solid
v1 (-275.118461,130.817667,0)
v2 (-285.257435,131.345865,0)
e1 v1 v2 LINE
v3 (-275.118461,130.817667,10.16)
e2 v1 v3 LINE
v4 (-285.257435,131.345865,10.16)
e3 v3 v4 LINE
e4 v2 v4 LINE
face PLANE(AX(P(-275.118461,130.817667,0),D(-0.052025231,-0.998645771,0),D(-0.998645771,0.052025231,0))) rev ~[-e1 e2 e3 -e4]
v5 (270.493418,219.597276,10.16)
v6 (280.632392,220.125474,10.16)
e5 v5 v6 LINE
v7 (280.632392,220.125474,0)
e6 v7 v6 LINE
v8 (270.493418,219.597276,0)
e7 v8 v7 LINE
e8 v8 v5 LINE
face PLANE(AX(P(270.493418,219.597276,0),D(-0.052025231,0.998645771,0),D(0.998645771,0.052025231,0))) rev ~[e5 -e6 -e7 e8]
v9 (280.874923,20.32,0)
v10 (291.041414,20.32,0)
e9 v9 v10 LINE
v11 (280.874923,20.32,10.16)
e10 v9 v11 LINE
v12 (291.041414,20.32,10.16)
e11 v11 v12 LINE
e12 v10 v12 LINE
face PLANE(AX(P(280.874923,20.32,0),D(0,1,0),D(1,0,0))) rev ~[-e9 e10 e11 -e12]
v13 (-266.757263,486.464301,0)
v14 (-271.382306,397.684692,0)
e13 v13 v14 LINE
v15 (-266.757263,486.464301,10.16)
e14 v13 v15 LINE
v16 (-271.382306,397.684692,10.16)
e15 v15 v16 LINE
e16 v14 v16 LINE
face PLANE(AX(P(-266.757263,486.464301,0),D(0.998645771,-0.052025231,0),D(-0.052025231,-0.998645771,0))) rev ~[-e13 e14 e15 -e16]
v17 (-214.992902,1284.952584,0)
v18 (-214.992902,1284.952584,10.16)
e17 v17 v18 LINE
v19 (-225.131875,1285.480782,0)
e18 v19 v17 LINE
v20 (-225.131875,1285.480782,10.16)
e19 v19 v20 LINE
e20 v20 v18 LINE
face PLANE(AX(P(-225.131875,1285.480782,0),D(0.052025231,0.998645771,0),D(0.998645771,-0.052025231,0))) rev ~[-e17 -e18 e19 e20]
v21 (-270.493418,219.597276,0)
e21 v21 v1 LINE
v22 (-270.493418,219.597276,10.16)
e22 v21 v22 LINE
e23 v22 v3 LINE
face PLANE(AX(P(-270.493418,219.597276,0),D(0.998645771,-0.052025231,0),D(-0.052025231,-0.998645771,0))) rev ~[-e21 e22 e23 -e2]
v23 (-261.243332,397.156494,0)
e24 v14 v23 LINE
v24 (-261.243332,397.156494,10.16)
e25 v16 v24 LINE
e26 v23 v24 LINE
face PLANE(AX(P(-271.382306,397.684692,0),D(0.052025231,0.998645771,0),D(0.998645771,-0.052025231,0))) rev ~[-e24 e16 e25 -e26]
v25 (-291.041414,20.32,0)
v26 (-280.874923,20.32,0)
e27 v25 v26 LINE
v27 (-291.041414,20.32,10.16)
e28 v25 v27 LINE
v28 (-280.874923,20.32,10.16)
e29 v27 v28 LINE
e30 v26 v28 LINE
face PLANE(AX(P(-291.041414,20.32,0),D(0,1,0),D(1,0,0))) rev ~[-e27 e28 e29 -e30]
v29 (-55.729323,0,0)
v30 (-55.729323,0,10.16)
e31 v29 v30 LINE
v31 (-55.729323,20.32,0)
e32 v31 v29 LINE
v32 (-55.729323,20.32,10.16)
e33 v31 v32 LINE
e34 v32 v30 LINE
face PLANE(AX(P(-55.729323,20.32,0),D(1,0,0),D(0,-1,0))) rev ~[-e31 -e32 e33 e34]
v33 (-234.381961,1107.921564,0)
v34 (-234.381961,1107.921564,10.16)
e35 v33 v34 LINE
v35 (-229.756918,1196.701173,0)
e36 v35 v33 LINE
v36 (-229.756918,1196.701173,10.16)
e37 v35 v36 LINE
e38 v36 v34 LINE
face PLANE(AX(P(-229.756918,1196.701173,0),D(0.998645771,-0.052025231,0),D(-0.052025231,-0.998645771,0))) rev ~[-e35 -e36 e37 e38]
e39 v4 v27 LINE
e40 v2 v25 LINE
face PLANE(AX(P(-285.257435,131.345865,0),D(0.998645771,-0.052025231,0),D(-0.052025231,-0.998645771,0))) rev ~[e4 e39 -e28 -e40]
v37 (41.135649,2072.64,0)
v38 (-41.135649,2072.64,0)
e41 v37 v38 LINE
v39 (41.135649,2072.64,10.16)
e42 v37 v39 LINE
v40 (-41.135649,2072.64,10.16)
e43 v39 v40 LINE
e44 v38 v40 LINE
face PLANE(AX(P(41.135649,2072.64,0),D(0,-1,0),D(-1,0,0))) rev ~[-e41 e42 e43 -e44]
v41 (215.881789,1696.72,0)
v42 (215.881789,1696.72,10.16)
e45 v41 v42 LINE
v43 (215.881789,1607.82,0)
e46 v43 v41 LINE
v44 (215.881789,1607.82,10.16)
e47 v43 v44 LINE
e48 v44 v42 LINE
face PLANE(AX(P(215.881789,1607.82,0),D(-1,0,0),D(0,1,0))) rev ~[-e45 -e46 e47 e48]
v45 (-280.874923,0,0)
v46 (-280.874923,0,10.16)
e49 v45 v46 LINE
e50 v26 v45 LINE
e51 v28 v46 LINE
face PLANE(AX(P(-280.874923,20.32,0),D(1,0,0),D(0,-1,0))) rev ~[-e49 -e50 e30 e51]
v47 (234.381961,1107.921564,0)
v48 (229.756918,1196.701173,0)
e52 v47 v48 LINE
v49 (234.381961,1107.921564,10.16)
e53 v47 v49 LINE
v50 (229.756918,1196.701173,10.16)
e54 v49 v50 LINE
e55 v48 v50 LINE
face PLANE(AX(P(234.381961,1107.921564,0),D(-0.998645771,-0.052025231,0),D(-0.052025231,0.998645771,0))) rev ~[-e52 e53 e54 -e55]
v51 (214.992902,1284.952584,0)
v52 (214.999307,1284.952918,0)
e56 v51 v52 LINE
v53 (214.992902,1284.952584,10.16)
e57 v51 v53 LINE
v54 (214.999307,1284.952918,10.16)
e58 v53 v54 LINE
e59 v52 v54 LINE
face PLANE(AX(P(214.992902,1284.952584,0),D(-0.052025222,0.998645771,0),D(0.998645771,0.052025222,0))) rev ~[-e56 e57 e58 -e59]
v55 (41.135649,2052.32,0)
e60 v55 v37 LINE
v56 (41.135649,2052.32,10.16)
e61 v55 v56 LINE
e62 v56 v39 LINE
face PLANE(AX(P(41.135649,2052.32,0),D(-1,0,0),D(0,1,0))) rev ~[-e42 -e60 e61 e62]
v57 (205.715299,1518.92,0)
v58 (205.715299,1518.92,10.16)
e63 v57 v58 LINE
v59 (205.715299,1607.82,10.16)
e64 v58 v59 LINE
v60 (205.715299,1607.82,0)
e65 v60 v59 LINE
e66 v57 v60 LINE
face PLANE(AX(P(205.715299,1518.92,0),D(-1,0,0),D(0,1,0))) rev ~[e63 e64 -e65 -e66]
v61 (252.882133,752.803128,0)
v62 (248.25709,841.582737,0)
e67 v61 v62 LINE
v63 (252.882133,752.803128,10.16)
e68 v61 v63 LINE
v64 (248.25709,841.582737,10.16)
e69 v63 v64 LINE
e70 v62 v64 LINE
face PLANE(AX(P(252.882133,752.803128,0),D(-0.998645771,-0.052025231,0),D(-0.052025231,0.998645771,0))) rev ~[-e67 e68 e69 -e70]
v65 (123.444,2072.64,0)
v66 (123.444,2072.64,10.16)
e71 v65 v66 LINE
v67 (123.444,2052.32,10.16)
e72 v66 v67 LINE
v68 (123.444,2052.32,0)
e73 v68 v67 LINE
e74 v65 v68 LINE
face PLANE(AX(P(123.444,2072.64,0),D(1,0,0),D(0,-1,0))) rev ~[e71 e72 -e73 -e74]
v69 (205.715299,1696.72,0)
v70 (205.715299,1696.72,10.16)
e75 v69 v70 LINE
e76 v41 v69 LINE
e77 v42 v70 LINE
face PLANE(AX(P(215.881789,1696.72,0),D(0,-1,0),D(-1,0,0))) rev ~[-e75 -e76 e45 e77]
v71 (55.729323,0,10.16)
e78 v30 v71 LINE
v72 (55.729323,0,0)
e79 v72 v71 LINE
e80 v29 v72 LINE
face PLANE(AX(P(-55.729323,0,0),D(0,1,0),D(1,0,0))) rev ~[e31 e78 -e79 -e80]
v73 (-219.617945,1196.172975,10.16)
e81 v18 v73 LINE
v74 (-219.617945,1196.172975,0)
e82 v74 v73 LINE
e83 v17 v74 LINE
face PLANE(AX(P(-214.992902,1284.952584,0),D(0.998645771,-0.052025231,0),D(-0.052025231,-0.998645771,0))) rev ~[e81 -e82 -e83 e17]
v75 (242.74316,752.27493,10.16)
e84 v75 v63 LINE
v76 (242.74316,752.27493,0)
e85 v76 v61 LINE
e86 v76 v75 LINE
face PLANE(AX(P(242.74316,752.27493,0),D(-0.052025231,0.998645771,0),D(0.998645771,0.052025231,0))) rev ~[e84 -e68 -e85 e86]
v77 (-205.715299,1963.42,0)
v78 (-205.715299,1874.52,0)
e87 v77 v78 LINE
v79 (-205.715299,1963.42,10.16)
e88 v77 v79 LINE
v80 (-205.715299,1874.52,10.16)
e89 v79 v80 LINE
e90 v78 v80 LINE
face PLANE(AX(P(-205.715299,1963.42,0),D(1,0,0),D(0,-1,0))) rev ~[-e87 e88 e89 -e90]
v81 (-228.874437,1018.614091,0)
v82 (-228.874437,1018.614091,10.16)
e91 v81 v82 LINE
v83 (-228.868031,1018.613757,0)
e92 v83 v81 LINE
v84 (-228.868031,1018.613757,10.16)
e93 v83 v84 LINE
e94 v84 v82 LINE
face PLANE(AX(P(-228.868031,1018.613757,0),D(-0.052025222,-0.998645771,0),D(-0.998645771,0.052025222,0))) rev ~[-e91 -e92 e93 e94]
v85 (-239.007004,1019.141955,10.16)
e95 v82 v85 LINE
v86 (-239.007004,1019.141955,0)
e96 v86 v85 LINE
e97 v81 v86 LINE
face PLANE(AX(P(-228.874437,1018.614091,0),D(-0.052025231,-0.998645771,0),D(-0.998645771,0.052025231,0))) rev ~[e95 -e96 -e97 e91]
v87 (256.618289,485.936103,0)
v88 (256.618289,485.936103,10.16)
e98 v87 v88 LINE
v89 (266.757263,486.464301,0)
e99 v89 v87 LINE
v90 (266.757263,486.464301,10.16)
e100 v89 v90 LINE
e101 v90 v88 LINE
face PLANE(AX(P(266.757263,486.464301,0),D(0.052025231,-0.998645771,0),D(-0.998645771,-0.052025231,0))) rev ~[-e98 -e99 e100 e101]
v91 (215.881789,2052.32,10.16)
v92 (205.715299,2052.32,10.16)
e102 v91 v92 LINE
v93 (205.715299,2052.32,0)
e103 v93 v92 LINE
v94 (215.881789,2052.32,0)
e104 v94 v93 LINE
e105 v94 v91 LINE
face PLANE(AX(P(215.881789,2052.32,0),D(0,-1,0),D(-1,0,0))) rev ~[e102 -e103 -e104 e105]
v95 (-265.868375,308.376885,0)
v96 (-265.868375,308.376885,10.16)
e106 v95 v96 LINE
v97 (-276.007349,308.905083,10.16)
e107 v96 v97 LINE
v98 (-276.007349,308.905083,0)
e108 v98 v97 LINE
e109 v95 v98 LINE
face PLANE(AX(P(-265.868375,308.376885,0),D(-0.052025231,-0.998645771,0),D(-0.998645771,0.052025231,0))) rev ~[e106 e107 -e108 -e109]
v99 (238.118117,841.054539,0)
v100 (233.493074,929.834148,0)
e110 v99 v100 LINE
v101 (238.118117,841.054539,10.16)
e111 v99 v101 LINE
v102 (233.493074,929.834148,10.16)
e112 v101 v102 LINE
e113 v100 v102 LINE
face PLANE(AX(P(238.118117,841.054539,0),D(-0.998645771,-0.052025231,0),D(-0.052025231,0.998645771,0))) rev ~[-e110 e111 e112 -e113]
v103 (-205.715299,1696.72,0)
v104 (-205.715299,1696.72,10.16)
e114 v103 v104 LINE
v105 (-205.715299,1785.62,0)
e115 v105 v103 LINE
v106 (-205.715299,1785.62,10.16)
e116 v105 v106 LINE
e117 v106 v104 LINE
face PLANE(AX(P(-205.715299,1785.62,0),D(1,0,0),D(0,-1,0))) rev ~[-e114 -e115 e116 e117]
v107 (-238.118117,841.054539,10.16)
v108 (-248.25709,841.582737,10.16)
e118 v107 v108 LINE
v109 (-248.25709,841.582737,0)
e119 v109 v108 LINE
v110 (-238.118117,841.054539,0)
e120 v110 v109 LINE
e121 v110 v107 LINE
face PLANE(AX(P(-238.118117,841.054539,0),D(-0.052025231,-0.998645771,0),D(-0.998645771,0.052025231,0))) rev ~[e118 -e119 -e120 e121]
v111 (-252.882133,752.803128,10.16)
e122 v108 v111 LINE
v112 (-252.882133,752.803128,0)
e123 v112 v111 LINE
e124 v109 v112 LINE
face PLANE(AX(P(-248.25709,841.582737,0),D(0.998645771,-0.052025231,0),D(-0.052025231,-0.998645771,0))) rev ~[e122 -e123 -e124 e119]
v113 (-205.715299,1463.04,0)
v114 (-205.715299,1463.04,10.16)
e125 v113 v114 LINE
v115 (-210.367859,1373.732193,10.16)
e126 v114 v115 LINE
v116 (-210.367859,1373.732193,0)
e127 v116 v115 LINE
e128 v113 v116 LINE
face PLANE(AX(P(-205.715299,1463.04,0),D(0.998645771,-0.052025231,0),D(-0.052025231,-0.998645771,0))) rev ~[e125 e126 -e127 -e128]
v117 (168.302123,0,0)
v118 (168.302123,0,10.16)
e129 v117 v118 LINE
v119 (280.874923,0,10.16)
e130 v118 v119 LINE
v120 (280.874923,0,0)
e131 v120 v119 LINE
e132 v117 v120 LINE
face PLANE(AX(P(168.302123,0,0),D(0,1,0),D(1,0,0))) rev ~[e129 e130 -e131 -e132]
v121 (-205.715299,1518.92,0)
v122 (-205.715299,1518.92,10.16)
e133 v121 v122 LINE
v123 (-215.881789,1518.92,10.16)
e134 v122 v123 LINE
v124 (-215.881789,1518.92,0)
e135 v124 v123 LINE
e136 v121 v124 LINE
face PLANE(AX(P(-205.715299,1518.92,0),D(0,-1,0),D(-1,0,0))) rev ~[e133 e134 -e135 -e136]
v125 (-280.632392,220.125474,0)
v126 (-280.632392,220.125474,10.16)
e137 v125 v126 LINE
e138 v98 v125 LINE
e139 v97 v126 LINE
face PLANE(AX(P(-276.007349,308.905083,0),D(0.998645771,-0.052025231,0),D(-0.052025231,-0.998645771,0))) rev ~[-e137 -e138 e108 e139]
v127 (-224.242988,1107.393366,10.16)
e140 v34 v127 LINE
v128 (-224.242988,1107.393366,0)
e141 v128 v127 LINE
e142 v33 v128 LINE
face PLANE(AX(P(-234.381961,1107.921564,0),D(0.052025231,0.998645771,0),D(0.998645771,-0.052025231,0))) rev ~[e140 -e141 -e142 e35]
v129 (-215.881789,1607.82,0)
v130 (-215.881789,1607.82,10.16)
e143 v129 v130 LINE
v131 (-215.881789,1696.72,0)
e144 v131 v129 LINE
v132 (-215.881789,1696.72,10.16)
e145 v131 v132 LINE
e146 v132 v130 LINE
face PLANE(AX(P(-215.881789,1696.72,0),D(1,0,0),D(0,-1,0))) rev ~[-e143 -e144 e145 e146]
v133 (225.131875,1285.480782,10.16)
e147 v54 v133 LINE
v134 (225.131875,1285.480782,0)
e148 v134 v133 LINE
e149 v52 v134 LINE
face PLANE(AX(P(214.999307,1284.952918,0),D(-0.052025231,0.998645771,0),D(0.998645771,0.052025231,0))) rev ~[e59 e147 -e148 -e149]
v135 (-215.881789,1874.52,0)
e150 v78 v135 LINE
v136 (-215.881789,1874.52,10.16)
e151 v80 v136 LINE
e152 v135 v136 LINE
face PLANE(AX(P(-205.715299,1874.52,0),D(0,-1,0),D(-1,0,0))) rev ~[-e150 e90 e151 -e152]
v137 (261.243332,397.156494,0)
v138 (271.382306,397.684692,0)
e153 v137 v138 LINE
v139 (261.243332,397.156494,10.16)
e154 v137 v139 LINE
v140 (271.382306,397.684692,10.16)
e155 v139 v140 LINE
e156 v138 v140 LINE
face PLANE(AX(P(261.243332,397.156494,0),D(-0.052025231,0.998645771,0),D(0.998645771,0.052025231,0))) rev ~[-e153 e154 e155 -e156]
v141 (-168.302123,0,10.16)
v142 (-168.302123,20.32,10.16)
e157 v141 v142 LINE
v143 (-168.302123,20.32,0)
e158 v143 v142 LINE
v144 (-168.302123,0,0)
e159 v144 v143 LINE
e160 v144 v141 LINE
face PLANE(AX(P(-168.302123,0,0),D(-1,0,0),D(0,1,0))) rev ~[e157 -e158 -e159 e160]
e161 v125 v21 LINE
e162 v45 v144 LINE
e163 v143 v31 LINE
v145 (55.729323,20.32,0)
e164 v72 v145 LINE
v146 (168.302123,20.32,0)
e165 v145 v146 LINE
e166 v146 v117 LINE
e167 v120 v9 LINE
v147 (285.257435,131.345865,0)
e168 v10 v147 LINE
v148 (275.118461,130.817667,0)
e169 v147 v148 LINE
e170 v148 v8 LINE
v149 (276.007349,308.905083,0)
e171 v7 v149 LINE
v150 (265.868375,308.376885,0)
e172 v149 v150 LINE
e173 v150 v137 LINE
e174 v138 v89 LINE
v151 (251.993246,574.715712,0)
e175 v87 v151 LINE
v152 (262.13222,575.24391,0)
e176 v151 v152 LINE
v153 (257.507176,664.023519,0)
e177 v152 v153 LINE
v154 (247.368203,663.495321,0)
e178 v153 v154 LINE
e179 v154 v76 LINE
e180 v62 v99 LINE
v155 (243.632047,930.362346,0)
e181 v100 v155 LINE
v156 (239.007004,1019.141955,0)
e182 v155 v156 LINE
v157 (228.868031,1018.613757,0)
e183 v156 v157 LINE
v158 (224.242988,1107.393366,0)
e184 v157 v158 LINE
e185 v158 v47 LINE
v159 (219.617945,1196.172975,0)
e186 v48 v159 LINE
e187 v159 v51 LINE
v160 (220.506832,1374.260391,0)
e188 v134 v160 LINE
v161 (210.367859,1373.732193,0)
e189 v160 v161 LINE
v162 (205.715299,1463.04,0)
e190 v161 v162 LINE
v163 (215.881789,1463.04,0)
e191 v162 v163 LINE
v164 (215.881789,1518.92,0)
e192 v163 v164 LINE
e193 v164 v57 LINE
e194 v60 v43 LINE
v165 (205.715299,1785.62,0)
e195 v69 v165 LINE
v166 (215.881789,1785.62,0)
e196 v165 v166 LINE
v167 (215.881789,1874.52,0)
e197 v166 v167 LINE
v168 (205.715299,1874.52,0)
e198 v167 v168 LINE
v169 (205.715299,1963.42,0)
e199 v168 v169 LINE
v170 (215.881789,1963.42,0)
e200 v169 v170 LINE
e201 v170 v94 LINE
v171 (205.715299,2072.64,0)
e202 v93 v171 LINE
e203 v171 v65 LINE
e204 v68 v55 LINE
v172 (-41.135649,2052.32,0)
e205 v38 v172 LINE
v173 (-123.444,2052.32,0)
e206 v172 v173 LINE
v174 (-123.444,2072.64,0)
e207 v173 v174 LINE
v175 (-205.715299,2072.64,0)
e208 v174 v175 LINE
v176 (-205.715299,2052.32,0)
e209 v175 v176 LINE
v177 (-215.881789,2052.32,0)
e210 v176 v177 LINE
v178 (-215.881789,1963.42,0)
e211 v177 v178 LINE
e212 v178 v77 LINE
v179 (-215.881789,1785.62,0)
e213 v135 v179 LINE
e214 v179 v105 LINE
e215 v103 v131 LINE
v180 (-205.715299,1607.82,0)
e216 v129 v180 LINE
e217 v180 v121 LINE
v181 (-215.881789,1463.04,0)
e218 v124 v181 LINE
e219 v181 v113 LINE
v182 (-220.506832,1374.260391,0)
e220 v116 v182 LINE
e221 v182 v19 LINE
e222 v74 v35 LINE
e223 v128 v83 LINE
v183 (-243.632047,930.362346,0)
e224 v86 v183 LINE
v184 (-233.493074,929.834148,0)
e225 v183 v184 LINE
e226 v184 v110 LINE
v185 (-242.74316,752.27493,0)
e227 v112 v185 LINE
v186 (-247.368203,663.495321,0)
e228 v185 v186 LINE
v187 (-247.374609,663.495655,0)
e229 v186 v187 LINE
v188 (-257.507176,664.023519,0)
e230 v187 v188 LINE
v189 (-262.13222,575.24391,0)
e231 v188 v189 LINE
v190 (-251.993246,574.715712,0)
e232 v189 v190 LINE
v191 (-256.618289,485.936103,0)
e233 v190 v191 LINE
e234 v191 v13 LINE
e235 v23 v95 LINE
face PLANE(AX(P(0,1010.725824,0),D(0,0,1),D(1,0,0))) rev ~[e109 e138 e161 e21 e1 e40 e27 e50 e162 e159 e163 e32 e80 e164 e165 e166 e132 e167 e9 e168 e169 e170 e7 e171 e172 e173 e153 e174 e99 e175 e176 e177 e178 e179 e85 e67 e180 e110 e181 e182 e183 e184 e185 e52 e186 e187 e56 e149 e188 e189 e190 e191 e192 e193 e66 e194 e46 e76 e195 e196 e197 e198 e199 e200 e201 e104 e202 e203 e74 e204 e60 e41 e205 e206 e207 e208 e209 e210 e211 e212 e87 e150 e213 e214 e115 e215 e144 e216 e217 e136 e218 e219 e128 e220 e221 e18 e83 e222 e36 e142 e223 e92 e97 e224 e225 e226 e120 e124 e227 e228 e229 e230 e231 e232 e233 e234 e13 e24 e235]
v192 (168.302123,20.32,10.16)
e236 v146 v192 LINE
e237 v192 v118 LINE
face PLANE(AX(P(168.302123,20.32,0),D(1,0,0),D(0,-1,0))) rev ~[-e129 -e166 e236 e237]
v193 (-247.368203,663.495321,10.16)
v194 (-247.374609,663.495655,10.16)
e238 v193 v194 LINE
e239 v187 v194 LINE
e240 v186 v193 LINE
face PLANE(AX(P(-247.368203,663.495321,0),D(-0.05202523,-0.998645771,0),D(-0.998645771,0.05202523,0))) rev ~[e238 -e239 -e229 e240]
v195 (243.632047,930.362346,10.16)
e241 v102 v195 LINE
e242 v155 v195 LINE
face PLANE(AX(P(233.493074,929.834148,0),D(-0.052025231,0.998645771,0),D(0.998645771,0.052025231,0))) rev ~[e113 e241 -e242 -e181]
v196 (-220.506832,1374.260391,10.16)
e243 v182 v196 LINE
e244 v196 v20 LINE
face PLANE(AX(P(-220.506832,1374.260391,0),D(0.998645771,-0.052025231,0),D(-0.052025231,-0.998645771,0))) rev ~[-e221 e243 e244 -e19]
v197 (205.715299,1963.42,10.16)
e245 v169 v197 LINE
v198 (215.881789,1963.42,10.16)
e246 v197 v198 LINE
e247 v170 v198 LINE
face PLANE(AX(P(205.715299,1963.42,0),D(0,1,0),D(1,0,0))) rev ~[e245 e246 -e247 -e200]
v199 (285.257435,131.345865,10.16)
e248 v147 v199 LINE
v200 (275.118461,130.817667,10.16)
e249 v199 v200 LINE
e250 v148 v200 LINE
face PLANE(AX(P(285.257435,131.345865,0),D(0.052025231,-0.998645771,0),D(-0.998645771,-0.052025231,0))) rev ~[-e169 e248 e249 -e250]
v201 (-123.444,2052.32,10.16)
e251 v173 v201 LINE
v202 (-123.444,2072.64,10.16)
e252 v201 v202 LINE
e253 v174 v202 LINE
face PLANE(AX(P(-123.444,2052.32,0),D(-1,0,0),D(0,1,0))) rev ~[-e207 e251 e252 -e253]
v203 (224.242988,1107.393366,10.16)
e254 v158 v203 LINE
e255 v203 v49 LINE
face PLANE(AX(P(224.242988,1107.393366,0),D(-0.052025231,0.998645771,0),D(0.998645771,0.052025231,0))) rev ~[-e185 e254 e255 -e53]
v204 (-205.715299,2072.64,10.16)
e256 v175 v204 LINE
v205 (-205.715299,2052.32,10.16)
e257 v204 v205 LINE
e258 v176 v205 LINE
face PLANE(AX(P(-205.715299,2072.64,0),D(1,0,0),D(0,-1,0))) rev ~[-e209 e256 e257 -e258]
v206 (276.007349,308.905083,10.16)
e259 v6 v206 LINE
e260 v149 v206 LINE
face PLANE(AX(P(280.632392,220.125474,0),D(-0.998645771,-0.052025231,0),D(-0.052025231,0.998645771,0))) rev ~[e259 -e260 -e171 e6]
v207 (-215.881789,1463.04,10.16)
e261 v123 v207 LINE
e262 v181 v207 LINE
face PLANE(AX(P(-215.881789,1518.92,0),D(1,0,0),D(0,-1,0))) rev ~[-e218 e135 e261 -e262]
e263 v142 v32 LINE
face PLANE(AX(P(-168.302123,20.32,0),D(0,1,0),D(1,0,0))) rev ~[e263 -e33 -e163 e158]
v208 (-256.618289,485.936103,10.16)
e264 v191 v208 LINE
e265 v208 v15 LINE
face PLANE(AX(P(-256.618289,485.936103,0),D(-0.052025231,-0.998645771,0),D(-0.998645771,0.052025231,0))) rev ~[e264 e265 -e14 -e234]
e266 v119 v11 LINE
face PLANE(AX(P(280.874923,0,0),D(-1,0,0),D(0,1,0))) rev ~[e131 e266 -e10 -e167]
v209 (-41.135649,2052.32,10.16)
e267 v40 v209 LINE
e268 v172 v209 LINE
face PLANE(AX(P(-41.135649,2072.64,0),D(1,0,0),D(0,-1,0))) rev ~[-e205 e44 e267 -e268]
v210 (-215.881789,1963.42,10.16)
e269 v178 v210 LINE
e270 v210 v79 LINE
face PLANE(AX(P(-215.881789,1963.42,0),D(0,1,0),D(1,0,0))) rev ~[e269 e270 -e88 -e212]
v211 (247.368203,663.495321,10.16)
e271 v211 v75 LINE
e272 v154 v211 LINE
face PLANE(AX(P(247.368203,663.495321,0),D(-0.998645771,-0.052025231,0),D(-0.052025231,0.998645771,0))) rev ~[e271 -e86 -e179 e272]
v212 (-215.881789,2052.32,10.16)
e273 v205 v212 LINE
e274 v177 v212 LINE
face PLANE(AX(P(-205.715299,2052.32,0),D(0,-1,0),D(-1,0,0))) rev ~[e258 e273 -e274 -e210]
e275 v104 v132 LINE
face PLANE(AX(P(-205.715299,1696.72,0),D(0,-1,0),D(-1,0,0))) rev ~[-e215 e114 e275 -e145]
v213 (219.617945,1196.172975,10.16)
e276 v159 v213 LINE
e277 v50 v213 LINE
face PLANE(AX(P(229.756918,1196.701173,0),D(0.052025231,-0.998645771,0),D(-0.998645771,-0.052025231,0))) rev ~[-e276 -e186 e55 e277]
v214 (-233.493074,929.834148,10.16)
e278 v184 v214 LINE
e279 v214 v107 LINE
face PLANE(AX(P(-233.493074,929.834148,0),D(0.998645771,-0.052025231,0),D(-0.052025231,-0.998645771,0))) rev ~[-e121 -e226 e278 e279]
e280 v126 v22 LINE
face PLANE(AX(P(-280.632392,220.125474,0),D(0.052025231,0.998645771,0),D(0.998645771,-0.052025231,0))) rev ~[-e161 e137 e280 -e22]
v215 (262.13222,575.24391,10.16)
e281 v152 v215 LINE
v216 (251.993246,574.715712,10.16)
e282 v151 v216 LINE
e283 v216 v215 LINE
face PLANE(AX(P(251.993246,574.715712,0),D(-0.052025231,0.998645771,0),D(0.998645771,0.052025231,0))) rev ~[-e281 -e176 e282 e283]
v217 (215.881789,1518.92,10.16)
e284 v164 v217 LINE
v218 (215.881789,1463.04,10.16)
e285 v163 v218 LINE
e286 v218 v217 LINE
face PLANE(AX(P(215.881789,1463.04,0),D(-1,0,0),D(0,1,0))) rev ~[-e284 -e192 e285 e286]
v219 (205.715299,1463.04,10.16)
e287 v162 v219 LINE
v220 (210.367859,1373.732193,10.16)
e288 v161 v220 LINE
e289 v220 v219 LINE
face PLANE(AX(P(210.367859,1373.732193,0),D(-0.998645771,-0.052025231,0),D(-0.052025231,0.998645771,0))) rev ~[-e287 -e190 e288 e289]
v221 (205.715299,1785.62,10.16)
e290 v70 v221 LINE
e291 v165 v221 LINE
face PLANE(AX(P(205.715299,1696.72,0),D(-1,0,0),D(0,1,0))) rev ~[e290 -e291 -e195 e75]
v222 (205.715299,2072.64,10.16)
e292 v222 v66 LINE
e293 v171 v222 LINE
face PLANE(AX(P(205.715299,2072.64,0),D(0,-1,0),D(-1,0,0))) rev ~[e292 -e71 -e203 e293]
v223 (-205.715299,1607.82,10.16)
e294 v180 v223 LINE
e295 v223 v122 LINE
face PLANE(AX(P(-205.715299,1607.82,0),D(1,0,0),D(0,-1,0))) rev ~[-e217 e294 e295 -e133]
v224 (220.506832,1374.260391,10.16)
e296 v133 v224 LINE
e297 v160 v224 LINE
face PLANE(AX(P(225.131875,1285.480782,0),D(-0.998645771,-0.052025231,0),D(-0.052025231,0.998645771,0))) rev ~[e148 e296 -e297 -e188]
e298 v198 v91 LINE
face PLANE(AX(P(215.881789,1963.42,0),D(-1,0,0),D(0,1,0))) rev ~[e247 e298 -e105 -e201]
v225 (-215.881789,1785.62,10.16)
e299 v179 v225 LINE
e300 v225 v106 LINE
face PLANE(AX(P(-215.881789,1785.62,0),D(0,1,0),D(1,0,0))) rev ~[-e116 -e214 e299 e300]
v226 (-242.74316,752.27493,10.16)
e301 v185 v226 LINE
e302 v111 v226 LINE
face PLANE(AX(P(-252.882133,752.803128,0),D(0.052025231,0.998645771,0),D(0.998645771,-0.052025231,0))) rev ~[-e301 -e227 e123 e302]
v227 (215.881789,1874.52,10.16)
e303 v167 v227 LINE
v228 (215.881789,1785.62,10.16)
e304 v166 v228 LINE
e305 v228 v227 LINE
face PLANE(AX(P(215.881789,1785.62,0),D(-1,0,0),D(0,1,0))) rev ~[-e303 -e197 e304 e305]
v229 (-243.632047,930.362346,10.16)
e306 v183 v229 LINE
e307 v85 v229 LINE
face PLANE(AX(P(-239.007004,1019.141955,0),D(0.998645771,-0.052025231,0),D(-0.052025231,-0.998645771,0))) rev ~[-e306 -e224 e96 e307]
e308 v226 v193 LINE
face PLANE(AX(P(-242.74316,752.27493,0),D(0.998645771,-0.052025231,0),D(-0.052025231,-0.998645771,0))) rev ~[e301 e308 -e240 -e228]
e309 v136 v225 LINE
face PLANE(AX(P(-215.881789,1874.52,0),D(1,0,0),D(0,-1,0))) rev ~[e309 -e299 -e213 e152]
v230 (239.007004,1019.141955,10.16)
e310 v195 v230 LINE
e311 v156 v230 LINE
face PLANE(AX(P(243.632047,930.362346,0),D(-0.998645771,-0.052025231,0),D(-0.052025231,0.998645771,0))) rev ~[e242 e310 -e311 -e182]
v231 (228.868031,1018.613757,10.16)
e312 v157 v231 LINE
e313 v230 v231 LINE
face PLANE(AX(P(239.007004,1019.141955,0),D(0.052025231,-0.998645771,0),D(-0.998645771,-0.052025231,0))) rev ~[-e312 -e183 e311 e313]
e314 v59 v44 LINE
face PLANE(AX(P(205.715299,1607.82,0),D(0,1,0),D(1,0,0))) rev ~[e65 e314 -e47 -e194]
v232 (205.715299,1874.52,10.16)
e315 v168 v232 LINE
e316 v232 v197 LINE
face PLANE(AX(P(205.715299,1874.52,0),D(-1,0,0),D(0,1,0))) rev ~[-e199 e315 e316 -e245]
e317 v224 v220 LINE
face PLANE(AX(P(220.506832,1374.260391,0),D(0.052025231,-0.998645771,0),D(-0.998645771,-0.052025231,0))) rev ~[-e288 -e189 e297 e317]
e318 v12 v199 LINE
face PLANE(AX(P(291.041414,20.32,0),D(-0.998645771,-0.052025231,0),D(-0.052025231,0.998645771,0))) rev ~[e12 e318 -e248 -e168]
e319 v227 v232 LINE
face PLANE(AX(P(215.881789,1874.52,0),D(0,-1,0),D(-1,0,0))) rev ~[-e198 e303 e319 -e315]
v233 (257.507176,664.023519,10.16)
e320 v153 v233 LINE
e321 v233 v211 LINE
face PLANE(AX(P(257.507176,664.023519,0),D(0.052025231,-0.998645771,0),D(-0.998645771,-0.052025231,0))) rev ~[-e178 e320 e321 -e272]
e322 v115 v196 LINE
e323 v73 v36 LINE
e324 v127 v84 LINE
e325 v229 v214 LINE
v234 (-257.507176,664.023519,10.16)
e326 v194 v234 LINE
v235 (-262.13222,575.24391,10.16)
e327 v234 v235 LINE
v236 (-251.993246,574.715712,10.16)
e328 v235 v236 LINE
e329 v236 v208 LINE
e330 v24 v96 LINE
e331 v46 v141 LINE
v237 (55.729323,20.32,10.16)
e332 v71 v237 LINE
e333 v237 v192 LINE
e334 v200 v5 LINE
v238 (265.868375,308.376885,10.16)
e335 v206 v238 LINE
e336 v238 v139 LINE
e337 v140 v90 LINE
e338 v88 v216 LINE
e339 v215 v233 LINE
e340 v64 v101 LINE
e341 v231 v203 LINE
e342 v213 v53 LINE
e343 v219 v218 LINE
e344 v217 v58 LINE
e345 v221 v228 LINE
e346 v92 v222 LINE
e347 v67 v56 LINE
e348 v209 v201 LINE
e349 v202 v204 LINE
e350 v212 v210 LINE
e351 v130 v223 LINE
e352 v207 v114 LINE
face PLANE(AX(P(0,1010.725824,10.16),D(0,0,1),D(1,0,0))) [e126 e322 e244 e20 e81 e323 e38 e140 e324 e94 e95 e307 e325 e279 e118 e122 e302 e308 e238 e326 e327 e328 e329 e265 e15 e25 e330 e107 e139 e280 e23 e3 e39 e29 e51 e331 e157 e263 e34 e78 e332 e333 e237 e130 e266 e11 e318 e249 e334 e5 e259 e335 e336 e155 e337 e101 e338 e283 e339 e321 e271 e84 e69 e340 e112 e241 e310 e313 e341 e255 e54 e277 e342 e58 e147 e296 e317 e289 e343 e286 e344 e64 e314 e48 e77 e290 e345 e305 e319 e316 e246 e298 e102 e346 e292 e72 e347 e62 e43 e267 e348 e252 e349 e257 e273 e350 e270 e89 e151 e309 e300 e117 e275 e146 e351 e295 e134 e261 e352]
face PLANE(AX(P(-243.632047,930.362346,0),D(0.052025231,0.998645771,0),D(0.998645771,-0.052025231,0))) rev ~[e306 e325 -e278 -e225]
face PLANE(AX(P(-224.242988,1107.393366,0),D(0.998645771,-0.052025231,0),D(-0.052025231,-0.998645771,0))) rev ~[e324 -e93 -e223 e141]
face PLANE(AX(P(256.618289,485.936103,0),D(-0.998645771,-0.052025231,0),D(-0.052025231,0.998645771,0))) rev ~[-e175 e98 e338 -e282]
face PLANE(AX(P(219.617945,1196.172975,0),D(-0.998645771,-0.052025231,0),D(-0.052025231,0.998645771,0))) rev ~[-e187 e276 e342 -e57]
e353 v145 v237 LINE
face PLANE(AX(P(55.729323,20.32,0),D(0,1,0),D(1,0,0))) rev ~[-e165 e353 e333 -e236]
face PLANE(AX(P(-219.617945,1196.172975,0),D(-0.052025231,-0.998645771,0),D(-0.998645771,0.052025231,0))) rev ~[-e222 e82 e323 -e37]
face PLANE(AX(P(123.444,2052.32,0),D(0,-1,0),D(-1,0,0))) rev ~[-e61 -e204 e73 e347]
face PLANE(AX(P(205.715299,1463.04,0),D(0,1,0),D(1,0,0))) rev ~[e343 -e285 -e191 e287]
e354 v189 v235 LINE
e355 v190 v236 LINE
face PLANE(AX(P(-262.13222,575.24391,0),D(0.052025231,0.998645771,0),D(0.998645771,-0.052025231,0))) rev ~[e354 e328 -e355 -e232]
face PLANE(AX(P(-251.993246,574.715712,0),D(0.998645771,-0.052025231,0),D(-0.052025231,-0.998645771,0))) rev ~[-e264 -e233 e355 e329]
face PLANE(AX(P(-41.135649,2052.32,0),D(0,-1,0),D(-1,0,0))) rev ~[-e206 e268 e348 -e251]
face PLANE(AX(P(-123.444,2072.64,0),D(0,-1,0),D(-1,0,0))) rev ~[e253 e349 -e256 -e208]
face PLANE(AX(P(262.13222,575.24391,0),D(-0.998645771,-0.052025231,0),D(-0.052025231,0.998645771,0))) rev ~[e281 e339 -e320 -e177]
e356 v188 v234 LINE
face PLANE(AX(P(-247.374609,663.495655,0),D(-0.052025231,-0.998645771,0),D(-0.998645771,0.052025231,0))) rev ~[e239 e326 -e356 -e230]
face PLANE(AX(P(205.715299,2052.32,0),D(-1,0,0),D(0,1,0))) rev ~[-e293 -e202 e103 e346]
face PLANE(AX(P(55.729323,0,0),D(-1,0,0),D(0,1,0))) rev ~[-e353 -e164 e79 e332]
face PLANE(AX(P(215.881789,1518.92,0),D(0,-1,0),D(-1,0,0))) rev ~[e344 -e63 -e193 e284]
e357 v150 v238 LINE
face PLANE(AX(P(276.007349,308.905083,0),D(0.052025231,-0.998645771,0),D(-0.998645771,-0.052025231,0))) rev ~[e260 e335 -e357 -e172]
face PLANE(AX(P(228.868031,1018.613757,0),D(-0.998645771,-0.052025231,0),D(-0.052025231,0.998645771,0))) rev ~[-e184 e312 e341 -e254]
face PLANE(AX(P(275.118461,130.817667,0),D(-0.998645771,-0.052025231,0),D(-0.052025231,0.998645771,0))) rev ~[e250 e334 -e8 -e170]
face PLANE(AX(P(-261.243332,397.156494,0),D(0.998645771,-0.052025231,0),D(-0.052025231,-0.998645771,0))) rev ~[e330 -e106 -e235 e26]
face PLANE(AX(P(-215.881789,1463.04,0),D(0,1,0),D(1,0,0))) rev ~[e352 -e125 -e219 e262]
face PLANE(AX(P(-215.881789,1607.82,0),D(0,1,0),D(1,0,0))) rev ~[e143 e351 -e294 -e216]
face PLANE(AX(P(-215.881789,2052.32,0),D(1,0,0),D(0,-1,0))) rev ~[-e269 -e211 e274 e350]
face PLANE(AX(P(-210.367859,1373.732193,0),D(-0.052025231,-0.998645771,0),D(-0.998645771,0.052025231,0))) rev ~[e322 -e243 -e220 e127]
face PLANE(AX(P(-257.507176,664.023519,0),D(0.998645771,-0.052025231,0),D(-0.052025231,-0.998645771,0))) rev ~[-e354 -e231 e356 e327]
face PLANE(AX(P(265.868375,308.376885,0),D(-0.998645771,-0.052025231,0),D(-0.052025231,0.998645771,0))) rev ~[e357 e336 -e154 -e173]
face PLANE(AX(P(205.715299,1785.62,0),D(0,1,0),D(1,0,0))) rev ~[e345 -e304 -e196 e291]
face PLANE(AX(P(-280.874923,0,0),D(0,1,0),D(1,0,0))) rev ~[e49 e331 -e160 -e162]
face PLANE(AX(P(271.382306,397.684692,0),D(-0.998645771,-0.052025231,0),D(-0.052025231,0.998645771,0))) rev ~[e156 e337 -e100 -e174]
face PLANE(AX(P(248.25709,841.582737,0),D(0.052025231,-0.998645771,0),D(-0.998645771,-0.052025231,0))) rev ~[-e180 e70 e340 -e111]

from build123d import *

# Parameters (mm, degrees)
BOSS_EXTRUDE3_DEPTH = 10.16


with BuildPart() as part:
    # Sketch4 → Boss-Extrude3 (new body)
    with BuildSketch(Plane.XY):
        Polygon((-210.367858706, 1373.732193279), (-220.506832234, 1374.260391019), (-225.131875264, 1285.480782003), (-214.992901736, 1284.952584263), (-219.617944766, 1196.172975248), (-229.756918293, 1196.701172988), (-234.381961323, 1107.921563972), (-224.242987795, 1107.393366232), (-228.868030825, 1018.613757216), (-228.874436508, 1018.614090925), (-239.007004353, 1019.141954956), (-243.632047383, 930.362345941), (-233.493073855, 929.834148201), (-238.118116884, 841.054539185), (-248.257090412, 841.582736925), (-252.882133442, 752.803127909), (-242.743159914, 752.274930169), (-247.368202944, 663.495321154), (-247.374608626, 663.495654863), (-257.507176472, 664.023518894), (-262.132219501, 575.243909878), (-251.993245973, 574.715712138), (-256.618289003, 485.936103122), (-266.757262531, 486.464300862), (-271.382305561, 397.684691847), (-261.243332033, 397.156494107), (-265.868375062, 308.376885091), (-276.00734859, 308.905082831), (-280.63239162, 220.125473815), (-270.493418092, 219.597276075), (-275.118461122, 130.81766706), (-285.25743465, 131.3458648), (-291.041413739, 20.32), (-280.874923338, 20.32), (-280.874923338, 0), (-168.302123338, 0), (-168.302123338, 20.32), (-55.729323338, 20.32), (-55.729323338, 0), (55.729323338, 0), (55.729323338, 20.32), (168.302123338, 20.32), (168.302123338, 0), (280.874923338, 0), (280.874923338, 20.32), (291.041413739, 20.32), (285.25743465, 131.3458648), (275.118461122, 130.81766706), (270.493418092, 219.597276075), (280.63239162, 220.125473815), (276.00734859, 308.905082831), (265.868375062, 308.376885091), (261.243332033, 397.156494107), (271.382305561, 397.684691847), (266.757262531, 486.464300862), (256.618289003, 485.936103122), (251.993245973, 574.715712138), (262.132219501, 575.243909878), (257.507176472, 664.023518894), (247.368202944, 663.495321154), (242.743159914, 752.274930169), (252.882133442, 752.803127909), (248.257090412, 841.582736925), (238.118116884, 841.054539185), (233.493073855, 929.834148201), (243.632047383, 930.362345941), (239.007004353, 1019.141954956), (228.868030825, 1018.613757216), (224.242987795, 1107.393366232), (234.381961323, 1107.921563972), (229.756918293, 1196.701172988), (219.617944766, 1196.172975248), (214.992901736, 1284.952584263), (214.999307419, 1284.952917972), (225.131875264, 1285.480782003), (220.506832234, 1374.260391019), (210.367858706, 1373.732193279), (205.715298803, 1463.040000035), (215.881789204, 1463.040000035), (215.881789204, 1518.92), (205.715298803, 1518.92), (205.715298803, 1607.82), (215.881789204, 1607.82), (215.881789204, 1696.72), (205.715298803, 1696.72), (205.715298803, 1785.62), (215.881789204, 1785.62), (215.881789204, 1874.52), (205.715298803, 1874.52), (205.715298803, 1963.42), (215.881789204, 1963.42), (215.881789204, 2052.32), (205.715298803, 2052.32), (205.715298803, 2072.64), (123.444, 2072.64), (123.444, 2052.32), (41.135649402, 2052.32), (41.135649402, 2072.64), (-41.135649402, 2072.64), (-41.135649402, 2052.32), (-123.444, 2052.32), (-123.444, 2072.64), (-205.715298803, 2072.64), (-205.715298803, 2052.32), (-215.881789204, 2052.32), (-215.881789204, 1963.42), (-205.715298803, 1963.42), (-205.715298803, 1874.52), (-215.881789204, 1874.52), (-215.881789204, 1785.62), (-205.715298803, 1785.62), (-205.715298803, 1696.72), (-215.881789204, 1696.72), (-215.881789204, 1607.82), (-205.715298803, 1607.82), (-205.715298803, 1518.92), (-215.881789204, 1518.92), (-215.881789204, 1463.040000035), (-205.715298803, 1463.040000035), align=None)
    extrude(amount=BOSS_EXTRUDE3_DEPTH)


solid = part.part
